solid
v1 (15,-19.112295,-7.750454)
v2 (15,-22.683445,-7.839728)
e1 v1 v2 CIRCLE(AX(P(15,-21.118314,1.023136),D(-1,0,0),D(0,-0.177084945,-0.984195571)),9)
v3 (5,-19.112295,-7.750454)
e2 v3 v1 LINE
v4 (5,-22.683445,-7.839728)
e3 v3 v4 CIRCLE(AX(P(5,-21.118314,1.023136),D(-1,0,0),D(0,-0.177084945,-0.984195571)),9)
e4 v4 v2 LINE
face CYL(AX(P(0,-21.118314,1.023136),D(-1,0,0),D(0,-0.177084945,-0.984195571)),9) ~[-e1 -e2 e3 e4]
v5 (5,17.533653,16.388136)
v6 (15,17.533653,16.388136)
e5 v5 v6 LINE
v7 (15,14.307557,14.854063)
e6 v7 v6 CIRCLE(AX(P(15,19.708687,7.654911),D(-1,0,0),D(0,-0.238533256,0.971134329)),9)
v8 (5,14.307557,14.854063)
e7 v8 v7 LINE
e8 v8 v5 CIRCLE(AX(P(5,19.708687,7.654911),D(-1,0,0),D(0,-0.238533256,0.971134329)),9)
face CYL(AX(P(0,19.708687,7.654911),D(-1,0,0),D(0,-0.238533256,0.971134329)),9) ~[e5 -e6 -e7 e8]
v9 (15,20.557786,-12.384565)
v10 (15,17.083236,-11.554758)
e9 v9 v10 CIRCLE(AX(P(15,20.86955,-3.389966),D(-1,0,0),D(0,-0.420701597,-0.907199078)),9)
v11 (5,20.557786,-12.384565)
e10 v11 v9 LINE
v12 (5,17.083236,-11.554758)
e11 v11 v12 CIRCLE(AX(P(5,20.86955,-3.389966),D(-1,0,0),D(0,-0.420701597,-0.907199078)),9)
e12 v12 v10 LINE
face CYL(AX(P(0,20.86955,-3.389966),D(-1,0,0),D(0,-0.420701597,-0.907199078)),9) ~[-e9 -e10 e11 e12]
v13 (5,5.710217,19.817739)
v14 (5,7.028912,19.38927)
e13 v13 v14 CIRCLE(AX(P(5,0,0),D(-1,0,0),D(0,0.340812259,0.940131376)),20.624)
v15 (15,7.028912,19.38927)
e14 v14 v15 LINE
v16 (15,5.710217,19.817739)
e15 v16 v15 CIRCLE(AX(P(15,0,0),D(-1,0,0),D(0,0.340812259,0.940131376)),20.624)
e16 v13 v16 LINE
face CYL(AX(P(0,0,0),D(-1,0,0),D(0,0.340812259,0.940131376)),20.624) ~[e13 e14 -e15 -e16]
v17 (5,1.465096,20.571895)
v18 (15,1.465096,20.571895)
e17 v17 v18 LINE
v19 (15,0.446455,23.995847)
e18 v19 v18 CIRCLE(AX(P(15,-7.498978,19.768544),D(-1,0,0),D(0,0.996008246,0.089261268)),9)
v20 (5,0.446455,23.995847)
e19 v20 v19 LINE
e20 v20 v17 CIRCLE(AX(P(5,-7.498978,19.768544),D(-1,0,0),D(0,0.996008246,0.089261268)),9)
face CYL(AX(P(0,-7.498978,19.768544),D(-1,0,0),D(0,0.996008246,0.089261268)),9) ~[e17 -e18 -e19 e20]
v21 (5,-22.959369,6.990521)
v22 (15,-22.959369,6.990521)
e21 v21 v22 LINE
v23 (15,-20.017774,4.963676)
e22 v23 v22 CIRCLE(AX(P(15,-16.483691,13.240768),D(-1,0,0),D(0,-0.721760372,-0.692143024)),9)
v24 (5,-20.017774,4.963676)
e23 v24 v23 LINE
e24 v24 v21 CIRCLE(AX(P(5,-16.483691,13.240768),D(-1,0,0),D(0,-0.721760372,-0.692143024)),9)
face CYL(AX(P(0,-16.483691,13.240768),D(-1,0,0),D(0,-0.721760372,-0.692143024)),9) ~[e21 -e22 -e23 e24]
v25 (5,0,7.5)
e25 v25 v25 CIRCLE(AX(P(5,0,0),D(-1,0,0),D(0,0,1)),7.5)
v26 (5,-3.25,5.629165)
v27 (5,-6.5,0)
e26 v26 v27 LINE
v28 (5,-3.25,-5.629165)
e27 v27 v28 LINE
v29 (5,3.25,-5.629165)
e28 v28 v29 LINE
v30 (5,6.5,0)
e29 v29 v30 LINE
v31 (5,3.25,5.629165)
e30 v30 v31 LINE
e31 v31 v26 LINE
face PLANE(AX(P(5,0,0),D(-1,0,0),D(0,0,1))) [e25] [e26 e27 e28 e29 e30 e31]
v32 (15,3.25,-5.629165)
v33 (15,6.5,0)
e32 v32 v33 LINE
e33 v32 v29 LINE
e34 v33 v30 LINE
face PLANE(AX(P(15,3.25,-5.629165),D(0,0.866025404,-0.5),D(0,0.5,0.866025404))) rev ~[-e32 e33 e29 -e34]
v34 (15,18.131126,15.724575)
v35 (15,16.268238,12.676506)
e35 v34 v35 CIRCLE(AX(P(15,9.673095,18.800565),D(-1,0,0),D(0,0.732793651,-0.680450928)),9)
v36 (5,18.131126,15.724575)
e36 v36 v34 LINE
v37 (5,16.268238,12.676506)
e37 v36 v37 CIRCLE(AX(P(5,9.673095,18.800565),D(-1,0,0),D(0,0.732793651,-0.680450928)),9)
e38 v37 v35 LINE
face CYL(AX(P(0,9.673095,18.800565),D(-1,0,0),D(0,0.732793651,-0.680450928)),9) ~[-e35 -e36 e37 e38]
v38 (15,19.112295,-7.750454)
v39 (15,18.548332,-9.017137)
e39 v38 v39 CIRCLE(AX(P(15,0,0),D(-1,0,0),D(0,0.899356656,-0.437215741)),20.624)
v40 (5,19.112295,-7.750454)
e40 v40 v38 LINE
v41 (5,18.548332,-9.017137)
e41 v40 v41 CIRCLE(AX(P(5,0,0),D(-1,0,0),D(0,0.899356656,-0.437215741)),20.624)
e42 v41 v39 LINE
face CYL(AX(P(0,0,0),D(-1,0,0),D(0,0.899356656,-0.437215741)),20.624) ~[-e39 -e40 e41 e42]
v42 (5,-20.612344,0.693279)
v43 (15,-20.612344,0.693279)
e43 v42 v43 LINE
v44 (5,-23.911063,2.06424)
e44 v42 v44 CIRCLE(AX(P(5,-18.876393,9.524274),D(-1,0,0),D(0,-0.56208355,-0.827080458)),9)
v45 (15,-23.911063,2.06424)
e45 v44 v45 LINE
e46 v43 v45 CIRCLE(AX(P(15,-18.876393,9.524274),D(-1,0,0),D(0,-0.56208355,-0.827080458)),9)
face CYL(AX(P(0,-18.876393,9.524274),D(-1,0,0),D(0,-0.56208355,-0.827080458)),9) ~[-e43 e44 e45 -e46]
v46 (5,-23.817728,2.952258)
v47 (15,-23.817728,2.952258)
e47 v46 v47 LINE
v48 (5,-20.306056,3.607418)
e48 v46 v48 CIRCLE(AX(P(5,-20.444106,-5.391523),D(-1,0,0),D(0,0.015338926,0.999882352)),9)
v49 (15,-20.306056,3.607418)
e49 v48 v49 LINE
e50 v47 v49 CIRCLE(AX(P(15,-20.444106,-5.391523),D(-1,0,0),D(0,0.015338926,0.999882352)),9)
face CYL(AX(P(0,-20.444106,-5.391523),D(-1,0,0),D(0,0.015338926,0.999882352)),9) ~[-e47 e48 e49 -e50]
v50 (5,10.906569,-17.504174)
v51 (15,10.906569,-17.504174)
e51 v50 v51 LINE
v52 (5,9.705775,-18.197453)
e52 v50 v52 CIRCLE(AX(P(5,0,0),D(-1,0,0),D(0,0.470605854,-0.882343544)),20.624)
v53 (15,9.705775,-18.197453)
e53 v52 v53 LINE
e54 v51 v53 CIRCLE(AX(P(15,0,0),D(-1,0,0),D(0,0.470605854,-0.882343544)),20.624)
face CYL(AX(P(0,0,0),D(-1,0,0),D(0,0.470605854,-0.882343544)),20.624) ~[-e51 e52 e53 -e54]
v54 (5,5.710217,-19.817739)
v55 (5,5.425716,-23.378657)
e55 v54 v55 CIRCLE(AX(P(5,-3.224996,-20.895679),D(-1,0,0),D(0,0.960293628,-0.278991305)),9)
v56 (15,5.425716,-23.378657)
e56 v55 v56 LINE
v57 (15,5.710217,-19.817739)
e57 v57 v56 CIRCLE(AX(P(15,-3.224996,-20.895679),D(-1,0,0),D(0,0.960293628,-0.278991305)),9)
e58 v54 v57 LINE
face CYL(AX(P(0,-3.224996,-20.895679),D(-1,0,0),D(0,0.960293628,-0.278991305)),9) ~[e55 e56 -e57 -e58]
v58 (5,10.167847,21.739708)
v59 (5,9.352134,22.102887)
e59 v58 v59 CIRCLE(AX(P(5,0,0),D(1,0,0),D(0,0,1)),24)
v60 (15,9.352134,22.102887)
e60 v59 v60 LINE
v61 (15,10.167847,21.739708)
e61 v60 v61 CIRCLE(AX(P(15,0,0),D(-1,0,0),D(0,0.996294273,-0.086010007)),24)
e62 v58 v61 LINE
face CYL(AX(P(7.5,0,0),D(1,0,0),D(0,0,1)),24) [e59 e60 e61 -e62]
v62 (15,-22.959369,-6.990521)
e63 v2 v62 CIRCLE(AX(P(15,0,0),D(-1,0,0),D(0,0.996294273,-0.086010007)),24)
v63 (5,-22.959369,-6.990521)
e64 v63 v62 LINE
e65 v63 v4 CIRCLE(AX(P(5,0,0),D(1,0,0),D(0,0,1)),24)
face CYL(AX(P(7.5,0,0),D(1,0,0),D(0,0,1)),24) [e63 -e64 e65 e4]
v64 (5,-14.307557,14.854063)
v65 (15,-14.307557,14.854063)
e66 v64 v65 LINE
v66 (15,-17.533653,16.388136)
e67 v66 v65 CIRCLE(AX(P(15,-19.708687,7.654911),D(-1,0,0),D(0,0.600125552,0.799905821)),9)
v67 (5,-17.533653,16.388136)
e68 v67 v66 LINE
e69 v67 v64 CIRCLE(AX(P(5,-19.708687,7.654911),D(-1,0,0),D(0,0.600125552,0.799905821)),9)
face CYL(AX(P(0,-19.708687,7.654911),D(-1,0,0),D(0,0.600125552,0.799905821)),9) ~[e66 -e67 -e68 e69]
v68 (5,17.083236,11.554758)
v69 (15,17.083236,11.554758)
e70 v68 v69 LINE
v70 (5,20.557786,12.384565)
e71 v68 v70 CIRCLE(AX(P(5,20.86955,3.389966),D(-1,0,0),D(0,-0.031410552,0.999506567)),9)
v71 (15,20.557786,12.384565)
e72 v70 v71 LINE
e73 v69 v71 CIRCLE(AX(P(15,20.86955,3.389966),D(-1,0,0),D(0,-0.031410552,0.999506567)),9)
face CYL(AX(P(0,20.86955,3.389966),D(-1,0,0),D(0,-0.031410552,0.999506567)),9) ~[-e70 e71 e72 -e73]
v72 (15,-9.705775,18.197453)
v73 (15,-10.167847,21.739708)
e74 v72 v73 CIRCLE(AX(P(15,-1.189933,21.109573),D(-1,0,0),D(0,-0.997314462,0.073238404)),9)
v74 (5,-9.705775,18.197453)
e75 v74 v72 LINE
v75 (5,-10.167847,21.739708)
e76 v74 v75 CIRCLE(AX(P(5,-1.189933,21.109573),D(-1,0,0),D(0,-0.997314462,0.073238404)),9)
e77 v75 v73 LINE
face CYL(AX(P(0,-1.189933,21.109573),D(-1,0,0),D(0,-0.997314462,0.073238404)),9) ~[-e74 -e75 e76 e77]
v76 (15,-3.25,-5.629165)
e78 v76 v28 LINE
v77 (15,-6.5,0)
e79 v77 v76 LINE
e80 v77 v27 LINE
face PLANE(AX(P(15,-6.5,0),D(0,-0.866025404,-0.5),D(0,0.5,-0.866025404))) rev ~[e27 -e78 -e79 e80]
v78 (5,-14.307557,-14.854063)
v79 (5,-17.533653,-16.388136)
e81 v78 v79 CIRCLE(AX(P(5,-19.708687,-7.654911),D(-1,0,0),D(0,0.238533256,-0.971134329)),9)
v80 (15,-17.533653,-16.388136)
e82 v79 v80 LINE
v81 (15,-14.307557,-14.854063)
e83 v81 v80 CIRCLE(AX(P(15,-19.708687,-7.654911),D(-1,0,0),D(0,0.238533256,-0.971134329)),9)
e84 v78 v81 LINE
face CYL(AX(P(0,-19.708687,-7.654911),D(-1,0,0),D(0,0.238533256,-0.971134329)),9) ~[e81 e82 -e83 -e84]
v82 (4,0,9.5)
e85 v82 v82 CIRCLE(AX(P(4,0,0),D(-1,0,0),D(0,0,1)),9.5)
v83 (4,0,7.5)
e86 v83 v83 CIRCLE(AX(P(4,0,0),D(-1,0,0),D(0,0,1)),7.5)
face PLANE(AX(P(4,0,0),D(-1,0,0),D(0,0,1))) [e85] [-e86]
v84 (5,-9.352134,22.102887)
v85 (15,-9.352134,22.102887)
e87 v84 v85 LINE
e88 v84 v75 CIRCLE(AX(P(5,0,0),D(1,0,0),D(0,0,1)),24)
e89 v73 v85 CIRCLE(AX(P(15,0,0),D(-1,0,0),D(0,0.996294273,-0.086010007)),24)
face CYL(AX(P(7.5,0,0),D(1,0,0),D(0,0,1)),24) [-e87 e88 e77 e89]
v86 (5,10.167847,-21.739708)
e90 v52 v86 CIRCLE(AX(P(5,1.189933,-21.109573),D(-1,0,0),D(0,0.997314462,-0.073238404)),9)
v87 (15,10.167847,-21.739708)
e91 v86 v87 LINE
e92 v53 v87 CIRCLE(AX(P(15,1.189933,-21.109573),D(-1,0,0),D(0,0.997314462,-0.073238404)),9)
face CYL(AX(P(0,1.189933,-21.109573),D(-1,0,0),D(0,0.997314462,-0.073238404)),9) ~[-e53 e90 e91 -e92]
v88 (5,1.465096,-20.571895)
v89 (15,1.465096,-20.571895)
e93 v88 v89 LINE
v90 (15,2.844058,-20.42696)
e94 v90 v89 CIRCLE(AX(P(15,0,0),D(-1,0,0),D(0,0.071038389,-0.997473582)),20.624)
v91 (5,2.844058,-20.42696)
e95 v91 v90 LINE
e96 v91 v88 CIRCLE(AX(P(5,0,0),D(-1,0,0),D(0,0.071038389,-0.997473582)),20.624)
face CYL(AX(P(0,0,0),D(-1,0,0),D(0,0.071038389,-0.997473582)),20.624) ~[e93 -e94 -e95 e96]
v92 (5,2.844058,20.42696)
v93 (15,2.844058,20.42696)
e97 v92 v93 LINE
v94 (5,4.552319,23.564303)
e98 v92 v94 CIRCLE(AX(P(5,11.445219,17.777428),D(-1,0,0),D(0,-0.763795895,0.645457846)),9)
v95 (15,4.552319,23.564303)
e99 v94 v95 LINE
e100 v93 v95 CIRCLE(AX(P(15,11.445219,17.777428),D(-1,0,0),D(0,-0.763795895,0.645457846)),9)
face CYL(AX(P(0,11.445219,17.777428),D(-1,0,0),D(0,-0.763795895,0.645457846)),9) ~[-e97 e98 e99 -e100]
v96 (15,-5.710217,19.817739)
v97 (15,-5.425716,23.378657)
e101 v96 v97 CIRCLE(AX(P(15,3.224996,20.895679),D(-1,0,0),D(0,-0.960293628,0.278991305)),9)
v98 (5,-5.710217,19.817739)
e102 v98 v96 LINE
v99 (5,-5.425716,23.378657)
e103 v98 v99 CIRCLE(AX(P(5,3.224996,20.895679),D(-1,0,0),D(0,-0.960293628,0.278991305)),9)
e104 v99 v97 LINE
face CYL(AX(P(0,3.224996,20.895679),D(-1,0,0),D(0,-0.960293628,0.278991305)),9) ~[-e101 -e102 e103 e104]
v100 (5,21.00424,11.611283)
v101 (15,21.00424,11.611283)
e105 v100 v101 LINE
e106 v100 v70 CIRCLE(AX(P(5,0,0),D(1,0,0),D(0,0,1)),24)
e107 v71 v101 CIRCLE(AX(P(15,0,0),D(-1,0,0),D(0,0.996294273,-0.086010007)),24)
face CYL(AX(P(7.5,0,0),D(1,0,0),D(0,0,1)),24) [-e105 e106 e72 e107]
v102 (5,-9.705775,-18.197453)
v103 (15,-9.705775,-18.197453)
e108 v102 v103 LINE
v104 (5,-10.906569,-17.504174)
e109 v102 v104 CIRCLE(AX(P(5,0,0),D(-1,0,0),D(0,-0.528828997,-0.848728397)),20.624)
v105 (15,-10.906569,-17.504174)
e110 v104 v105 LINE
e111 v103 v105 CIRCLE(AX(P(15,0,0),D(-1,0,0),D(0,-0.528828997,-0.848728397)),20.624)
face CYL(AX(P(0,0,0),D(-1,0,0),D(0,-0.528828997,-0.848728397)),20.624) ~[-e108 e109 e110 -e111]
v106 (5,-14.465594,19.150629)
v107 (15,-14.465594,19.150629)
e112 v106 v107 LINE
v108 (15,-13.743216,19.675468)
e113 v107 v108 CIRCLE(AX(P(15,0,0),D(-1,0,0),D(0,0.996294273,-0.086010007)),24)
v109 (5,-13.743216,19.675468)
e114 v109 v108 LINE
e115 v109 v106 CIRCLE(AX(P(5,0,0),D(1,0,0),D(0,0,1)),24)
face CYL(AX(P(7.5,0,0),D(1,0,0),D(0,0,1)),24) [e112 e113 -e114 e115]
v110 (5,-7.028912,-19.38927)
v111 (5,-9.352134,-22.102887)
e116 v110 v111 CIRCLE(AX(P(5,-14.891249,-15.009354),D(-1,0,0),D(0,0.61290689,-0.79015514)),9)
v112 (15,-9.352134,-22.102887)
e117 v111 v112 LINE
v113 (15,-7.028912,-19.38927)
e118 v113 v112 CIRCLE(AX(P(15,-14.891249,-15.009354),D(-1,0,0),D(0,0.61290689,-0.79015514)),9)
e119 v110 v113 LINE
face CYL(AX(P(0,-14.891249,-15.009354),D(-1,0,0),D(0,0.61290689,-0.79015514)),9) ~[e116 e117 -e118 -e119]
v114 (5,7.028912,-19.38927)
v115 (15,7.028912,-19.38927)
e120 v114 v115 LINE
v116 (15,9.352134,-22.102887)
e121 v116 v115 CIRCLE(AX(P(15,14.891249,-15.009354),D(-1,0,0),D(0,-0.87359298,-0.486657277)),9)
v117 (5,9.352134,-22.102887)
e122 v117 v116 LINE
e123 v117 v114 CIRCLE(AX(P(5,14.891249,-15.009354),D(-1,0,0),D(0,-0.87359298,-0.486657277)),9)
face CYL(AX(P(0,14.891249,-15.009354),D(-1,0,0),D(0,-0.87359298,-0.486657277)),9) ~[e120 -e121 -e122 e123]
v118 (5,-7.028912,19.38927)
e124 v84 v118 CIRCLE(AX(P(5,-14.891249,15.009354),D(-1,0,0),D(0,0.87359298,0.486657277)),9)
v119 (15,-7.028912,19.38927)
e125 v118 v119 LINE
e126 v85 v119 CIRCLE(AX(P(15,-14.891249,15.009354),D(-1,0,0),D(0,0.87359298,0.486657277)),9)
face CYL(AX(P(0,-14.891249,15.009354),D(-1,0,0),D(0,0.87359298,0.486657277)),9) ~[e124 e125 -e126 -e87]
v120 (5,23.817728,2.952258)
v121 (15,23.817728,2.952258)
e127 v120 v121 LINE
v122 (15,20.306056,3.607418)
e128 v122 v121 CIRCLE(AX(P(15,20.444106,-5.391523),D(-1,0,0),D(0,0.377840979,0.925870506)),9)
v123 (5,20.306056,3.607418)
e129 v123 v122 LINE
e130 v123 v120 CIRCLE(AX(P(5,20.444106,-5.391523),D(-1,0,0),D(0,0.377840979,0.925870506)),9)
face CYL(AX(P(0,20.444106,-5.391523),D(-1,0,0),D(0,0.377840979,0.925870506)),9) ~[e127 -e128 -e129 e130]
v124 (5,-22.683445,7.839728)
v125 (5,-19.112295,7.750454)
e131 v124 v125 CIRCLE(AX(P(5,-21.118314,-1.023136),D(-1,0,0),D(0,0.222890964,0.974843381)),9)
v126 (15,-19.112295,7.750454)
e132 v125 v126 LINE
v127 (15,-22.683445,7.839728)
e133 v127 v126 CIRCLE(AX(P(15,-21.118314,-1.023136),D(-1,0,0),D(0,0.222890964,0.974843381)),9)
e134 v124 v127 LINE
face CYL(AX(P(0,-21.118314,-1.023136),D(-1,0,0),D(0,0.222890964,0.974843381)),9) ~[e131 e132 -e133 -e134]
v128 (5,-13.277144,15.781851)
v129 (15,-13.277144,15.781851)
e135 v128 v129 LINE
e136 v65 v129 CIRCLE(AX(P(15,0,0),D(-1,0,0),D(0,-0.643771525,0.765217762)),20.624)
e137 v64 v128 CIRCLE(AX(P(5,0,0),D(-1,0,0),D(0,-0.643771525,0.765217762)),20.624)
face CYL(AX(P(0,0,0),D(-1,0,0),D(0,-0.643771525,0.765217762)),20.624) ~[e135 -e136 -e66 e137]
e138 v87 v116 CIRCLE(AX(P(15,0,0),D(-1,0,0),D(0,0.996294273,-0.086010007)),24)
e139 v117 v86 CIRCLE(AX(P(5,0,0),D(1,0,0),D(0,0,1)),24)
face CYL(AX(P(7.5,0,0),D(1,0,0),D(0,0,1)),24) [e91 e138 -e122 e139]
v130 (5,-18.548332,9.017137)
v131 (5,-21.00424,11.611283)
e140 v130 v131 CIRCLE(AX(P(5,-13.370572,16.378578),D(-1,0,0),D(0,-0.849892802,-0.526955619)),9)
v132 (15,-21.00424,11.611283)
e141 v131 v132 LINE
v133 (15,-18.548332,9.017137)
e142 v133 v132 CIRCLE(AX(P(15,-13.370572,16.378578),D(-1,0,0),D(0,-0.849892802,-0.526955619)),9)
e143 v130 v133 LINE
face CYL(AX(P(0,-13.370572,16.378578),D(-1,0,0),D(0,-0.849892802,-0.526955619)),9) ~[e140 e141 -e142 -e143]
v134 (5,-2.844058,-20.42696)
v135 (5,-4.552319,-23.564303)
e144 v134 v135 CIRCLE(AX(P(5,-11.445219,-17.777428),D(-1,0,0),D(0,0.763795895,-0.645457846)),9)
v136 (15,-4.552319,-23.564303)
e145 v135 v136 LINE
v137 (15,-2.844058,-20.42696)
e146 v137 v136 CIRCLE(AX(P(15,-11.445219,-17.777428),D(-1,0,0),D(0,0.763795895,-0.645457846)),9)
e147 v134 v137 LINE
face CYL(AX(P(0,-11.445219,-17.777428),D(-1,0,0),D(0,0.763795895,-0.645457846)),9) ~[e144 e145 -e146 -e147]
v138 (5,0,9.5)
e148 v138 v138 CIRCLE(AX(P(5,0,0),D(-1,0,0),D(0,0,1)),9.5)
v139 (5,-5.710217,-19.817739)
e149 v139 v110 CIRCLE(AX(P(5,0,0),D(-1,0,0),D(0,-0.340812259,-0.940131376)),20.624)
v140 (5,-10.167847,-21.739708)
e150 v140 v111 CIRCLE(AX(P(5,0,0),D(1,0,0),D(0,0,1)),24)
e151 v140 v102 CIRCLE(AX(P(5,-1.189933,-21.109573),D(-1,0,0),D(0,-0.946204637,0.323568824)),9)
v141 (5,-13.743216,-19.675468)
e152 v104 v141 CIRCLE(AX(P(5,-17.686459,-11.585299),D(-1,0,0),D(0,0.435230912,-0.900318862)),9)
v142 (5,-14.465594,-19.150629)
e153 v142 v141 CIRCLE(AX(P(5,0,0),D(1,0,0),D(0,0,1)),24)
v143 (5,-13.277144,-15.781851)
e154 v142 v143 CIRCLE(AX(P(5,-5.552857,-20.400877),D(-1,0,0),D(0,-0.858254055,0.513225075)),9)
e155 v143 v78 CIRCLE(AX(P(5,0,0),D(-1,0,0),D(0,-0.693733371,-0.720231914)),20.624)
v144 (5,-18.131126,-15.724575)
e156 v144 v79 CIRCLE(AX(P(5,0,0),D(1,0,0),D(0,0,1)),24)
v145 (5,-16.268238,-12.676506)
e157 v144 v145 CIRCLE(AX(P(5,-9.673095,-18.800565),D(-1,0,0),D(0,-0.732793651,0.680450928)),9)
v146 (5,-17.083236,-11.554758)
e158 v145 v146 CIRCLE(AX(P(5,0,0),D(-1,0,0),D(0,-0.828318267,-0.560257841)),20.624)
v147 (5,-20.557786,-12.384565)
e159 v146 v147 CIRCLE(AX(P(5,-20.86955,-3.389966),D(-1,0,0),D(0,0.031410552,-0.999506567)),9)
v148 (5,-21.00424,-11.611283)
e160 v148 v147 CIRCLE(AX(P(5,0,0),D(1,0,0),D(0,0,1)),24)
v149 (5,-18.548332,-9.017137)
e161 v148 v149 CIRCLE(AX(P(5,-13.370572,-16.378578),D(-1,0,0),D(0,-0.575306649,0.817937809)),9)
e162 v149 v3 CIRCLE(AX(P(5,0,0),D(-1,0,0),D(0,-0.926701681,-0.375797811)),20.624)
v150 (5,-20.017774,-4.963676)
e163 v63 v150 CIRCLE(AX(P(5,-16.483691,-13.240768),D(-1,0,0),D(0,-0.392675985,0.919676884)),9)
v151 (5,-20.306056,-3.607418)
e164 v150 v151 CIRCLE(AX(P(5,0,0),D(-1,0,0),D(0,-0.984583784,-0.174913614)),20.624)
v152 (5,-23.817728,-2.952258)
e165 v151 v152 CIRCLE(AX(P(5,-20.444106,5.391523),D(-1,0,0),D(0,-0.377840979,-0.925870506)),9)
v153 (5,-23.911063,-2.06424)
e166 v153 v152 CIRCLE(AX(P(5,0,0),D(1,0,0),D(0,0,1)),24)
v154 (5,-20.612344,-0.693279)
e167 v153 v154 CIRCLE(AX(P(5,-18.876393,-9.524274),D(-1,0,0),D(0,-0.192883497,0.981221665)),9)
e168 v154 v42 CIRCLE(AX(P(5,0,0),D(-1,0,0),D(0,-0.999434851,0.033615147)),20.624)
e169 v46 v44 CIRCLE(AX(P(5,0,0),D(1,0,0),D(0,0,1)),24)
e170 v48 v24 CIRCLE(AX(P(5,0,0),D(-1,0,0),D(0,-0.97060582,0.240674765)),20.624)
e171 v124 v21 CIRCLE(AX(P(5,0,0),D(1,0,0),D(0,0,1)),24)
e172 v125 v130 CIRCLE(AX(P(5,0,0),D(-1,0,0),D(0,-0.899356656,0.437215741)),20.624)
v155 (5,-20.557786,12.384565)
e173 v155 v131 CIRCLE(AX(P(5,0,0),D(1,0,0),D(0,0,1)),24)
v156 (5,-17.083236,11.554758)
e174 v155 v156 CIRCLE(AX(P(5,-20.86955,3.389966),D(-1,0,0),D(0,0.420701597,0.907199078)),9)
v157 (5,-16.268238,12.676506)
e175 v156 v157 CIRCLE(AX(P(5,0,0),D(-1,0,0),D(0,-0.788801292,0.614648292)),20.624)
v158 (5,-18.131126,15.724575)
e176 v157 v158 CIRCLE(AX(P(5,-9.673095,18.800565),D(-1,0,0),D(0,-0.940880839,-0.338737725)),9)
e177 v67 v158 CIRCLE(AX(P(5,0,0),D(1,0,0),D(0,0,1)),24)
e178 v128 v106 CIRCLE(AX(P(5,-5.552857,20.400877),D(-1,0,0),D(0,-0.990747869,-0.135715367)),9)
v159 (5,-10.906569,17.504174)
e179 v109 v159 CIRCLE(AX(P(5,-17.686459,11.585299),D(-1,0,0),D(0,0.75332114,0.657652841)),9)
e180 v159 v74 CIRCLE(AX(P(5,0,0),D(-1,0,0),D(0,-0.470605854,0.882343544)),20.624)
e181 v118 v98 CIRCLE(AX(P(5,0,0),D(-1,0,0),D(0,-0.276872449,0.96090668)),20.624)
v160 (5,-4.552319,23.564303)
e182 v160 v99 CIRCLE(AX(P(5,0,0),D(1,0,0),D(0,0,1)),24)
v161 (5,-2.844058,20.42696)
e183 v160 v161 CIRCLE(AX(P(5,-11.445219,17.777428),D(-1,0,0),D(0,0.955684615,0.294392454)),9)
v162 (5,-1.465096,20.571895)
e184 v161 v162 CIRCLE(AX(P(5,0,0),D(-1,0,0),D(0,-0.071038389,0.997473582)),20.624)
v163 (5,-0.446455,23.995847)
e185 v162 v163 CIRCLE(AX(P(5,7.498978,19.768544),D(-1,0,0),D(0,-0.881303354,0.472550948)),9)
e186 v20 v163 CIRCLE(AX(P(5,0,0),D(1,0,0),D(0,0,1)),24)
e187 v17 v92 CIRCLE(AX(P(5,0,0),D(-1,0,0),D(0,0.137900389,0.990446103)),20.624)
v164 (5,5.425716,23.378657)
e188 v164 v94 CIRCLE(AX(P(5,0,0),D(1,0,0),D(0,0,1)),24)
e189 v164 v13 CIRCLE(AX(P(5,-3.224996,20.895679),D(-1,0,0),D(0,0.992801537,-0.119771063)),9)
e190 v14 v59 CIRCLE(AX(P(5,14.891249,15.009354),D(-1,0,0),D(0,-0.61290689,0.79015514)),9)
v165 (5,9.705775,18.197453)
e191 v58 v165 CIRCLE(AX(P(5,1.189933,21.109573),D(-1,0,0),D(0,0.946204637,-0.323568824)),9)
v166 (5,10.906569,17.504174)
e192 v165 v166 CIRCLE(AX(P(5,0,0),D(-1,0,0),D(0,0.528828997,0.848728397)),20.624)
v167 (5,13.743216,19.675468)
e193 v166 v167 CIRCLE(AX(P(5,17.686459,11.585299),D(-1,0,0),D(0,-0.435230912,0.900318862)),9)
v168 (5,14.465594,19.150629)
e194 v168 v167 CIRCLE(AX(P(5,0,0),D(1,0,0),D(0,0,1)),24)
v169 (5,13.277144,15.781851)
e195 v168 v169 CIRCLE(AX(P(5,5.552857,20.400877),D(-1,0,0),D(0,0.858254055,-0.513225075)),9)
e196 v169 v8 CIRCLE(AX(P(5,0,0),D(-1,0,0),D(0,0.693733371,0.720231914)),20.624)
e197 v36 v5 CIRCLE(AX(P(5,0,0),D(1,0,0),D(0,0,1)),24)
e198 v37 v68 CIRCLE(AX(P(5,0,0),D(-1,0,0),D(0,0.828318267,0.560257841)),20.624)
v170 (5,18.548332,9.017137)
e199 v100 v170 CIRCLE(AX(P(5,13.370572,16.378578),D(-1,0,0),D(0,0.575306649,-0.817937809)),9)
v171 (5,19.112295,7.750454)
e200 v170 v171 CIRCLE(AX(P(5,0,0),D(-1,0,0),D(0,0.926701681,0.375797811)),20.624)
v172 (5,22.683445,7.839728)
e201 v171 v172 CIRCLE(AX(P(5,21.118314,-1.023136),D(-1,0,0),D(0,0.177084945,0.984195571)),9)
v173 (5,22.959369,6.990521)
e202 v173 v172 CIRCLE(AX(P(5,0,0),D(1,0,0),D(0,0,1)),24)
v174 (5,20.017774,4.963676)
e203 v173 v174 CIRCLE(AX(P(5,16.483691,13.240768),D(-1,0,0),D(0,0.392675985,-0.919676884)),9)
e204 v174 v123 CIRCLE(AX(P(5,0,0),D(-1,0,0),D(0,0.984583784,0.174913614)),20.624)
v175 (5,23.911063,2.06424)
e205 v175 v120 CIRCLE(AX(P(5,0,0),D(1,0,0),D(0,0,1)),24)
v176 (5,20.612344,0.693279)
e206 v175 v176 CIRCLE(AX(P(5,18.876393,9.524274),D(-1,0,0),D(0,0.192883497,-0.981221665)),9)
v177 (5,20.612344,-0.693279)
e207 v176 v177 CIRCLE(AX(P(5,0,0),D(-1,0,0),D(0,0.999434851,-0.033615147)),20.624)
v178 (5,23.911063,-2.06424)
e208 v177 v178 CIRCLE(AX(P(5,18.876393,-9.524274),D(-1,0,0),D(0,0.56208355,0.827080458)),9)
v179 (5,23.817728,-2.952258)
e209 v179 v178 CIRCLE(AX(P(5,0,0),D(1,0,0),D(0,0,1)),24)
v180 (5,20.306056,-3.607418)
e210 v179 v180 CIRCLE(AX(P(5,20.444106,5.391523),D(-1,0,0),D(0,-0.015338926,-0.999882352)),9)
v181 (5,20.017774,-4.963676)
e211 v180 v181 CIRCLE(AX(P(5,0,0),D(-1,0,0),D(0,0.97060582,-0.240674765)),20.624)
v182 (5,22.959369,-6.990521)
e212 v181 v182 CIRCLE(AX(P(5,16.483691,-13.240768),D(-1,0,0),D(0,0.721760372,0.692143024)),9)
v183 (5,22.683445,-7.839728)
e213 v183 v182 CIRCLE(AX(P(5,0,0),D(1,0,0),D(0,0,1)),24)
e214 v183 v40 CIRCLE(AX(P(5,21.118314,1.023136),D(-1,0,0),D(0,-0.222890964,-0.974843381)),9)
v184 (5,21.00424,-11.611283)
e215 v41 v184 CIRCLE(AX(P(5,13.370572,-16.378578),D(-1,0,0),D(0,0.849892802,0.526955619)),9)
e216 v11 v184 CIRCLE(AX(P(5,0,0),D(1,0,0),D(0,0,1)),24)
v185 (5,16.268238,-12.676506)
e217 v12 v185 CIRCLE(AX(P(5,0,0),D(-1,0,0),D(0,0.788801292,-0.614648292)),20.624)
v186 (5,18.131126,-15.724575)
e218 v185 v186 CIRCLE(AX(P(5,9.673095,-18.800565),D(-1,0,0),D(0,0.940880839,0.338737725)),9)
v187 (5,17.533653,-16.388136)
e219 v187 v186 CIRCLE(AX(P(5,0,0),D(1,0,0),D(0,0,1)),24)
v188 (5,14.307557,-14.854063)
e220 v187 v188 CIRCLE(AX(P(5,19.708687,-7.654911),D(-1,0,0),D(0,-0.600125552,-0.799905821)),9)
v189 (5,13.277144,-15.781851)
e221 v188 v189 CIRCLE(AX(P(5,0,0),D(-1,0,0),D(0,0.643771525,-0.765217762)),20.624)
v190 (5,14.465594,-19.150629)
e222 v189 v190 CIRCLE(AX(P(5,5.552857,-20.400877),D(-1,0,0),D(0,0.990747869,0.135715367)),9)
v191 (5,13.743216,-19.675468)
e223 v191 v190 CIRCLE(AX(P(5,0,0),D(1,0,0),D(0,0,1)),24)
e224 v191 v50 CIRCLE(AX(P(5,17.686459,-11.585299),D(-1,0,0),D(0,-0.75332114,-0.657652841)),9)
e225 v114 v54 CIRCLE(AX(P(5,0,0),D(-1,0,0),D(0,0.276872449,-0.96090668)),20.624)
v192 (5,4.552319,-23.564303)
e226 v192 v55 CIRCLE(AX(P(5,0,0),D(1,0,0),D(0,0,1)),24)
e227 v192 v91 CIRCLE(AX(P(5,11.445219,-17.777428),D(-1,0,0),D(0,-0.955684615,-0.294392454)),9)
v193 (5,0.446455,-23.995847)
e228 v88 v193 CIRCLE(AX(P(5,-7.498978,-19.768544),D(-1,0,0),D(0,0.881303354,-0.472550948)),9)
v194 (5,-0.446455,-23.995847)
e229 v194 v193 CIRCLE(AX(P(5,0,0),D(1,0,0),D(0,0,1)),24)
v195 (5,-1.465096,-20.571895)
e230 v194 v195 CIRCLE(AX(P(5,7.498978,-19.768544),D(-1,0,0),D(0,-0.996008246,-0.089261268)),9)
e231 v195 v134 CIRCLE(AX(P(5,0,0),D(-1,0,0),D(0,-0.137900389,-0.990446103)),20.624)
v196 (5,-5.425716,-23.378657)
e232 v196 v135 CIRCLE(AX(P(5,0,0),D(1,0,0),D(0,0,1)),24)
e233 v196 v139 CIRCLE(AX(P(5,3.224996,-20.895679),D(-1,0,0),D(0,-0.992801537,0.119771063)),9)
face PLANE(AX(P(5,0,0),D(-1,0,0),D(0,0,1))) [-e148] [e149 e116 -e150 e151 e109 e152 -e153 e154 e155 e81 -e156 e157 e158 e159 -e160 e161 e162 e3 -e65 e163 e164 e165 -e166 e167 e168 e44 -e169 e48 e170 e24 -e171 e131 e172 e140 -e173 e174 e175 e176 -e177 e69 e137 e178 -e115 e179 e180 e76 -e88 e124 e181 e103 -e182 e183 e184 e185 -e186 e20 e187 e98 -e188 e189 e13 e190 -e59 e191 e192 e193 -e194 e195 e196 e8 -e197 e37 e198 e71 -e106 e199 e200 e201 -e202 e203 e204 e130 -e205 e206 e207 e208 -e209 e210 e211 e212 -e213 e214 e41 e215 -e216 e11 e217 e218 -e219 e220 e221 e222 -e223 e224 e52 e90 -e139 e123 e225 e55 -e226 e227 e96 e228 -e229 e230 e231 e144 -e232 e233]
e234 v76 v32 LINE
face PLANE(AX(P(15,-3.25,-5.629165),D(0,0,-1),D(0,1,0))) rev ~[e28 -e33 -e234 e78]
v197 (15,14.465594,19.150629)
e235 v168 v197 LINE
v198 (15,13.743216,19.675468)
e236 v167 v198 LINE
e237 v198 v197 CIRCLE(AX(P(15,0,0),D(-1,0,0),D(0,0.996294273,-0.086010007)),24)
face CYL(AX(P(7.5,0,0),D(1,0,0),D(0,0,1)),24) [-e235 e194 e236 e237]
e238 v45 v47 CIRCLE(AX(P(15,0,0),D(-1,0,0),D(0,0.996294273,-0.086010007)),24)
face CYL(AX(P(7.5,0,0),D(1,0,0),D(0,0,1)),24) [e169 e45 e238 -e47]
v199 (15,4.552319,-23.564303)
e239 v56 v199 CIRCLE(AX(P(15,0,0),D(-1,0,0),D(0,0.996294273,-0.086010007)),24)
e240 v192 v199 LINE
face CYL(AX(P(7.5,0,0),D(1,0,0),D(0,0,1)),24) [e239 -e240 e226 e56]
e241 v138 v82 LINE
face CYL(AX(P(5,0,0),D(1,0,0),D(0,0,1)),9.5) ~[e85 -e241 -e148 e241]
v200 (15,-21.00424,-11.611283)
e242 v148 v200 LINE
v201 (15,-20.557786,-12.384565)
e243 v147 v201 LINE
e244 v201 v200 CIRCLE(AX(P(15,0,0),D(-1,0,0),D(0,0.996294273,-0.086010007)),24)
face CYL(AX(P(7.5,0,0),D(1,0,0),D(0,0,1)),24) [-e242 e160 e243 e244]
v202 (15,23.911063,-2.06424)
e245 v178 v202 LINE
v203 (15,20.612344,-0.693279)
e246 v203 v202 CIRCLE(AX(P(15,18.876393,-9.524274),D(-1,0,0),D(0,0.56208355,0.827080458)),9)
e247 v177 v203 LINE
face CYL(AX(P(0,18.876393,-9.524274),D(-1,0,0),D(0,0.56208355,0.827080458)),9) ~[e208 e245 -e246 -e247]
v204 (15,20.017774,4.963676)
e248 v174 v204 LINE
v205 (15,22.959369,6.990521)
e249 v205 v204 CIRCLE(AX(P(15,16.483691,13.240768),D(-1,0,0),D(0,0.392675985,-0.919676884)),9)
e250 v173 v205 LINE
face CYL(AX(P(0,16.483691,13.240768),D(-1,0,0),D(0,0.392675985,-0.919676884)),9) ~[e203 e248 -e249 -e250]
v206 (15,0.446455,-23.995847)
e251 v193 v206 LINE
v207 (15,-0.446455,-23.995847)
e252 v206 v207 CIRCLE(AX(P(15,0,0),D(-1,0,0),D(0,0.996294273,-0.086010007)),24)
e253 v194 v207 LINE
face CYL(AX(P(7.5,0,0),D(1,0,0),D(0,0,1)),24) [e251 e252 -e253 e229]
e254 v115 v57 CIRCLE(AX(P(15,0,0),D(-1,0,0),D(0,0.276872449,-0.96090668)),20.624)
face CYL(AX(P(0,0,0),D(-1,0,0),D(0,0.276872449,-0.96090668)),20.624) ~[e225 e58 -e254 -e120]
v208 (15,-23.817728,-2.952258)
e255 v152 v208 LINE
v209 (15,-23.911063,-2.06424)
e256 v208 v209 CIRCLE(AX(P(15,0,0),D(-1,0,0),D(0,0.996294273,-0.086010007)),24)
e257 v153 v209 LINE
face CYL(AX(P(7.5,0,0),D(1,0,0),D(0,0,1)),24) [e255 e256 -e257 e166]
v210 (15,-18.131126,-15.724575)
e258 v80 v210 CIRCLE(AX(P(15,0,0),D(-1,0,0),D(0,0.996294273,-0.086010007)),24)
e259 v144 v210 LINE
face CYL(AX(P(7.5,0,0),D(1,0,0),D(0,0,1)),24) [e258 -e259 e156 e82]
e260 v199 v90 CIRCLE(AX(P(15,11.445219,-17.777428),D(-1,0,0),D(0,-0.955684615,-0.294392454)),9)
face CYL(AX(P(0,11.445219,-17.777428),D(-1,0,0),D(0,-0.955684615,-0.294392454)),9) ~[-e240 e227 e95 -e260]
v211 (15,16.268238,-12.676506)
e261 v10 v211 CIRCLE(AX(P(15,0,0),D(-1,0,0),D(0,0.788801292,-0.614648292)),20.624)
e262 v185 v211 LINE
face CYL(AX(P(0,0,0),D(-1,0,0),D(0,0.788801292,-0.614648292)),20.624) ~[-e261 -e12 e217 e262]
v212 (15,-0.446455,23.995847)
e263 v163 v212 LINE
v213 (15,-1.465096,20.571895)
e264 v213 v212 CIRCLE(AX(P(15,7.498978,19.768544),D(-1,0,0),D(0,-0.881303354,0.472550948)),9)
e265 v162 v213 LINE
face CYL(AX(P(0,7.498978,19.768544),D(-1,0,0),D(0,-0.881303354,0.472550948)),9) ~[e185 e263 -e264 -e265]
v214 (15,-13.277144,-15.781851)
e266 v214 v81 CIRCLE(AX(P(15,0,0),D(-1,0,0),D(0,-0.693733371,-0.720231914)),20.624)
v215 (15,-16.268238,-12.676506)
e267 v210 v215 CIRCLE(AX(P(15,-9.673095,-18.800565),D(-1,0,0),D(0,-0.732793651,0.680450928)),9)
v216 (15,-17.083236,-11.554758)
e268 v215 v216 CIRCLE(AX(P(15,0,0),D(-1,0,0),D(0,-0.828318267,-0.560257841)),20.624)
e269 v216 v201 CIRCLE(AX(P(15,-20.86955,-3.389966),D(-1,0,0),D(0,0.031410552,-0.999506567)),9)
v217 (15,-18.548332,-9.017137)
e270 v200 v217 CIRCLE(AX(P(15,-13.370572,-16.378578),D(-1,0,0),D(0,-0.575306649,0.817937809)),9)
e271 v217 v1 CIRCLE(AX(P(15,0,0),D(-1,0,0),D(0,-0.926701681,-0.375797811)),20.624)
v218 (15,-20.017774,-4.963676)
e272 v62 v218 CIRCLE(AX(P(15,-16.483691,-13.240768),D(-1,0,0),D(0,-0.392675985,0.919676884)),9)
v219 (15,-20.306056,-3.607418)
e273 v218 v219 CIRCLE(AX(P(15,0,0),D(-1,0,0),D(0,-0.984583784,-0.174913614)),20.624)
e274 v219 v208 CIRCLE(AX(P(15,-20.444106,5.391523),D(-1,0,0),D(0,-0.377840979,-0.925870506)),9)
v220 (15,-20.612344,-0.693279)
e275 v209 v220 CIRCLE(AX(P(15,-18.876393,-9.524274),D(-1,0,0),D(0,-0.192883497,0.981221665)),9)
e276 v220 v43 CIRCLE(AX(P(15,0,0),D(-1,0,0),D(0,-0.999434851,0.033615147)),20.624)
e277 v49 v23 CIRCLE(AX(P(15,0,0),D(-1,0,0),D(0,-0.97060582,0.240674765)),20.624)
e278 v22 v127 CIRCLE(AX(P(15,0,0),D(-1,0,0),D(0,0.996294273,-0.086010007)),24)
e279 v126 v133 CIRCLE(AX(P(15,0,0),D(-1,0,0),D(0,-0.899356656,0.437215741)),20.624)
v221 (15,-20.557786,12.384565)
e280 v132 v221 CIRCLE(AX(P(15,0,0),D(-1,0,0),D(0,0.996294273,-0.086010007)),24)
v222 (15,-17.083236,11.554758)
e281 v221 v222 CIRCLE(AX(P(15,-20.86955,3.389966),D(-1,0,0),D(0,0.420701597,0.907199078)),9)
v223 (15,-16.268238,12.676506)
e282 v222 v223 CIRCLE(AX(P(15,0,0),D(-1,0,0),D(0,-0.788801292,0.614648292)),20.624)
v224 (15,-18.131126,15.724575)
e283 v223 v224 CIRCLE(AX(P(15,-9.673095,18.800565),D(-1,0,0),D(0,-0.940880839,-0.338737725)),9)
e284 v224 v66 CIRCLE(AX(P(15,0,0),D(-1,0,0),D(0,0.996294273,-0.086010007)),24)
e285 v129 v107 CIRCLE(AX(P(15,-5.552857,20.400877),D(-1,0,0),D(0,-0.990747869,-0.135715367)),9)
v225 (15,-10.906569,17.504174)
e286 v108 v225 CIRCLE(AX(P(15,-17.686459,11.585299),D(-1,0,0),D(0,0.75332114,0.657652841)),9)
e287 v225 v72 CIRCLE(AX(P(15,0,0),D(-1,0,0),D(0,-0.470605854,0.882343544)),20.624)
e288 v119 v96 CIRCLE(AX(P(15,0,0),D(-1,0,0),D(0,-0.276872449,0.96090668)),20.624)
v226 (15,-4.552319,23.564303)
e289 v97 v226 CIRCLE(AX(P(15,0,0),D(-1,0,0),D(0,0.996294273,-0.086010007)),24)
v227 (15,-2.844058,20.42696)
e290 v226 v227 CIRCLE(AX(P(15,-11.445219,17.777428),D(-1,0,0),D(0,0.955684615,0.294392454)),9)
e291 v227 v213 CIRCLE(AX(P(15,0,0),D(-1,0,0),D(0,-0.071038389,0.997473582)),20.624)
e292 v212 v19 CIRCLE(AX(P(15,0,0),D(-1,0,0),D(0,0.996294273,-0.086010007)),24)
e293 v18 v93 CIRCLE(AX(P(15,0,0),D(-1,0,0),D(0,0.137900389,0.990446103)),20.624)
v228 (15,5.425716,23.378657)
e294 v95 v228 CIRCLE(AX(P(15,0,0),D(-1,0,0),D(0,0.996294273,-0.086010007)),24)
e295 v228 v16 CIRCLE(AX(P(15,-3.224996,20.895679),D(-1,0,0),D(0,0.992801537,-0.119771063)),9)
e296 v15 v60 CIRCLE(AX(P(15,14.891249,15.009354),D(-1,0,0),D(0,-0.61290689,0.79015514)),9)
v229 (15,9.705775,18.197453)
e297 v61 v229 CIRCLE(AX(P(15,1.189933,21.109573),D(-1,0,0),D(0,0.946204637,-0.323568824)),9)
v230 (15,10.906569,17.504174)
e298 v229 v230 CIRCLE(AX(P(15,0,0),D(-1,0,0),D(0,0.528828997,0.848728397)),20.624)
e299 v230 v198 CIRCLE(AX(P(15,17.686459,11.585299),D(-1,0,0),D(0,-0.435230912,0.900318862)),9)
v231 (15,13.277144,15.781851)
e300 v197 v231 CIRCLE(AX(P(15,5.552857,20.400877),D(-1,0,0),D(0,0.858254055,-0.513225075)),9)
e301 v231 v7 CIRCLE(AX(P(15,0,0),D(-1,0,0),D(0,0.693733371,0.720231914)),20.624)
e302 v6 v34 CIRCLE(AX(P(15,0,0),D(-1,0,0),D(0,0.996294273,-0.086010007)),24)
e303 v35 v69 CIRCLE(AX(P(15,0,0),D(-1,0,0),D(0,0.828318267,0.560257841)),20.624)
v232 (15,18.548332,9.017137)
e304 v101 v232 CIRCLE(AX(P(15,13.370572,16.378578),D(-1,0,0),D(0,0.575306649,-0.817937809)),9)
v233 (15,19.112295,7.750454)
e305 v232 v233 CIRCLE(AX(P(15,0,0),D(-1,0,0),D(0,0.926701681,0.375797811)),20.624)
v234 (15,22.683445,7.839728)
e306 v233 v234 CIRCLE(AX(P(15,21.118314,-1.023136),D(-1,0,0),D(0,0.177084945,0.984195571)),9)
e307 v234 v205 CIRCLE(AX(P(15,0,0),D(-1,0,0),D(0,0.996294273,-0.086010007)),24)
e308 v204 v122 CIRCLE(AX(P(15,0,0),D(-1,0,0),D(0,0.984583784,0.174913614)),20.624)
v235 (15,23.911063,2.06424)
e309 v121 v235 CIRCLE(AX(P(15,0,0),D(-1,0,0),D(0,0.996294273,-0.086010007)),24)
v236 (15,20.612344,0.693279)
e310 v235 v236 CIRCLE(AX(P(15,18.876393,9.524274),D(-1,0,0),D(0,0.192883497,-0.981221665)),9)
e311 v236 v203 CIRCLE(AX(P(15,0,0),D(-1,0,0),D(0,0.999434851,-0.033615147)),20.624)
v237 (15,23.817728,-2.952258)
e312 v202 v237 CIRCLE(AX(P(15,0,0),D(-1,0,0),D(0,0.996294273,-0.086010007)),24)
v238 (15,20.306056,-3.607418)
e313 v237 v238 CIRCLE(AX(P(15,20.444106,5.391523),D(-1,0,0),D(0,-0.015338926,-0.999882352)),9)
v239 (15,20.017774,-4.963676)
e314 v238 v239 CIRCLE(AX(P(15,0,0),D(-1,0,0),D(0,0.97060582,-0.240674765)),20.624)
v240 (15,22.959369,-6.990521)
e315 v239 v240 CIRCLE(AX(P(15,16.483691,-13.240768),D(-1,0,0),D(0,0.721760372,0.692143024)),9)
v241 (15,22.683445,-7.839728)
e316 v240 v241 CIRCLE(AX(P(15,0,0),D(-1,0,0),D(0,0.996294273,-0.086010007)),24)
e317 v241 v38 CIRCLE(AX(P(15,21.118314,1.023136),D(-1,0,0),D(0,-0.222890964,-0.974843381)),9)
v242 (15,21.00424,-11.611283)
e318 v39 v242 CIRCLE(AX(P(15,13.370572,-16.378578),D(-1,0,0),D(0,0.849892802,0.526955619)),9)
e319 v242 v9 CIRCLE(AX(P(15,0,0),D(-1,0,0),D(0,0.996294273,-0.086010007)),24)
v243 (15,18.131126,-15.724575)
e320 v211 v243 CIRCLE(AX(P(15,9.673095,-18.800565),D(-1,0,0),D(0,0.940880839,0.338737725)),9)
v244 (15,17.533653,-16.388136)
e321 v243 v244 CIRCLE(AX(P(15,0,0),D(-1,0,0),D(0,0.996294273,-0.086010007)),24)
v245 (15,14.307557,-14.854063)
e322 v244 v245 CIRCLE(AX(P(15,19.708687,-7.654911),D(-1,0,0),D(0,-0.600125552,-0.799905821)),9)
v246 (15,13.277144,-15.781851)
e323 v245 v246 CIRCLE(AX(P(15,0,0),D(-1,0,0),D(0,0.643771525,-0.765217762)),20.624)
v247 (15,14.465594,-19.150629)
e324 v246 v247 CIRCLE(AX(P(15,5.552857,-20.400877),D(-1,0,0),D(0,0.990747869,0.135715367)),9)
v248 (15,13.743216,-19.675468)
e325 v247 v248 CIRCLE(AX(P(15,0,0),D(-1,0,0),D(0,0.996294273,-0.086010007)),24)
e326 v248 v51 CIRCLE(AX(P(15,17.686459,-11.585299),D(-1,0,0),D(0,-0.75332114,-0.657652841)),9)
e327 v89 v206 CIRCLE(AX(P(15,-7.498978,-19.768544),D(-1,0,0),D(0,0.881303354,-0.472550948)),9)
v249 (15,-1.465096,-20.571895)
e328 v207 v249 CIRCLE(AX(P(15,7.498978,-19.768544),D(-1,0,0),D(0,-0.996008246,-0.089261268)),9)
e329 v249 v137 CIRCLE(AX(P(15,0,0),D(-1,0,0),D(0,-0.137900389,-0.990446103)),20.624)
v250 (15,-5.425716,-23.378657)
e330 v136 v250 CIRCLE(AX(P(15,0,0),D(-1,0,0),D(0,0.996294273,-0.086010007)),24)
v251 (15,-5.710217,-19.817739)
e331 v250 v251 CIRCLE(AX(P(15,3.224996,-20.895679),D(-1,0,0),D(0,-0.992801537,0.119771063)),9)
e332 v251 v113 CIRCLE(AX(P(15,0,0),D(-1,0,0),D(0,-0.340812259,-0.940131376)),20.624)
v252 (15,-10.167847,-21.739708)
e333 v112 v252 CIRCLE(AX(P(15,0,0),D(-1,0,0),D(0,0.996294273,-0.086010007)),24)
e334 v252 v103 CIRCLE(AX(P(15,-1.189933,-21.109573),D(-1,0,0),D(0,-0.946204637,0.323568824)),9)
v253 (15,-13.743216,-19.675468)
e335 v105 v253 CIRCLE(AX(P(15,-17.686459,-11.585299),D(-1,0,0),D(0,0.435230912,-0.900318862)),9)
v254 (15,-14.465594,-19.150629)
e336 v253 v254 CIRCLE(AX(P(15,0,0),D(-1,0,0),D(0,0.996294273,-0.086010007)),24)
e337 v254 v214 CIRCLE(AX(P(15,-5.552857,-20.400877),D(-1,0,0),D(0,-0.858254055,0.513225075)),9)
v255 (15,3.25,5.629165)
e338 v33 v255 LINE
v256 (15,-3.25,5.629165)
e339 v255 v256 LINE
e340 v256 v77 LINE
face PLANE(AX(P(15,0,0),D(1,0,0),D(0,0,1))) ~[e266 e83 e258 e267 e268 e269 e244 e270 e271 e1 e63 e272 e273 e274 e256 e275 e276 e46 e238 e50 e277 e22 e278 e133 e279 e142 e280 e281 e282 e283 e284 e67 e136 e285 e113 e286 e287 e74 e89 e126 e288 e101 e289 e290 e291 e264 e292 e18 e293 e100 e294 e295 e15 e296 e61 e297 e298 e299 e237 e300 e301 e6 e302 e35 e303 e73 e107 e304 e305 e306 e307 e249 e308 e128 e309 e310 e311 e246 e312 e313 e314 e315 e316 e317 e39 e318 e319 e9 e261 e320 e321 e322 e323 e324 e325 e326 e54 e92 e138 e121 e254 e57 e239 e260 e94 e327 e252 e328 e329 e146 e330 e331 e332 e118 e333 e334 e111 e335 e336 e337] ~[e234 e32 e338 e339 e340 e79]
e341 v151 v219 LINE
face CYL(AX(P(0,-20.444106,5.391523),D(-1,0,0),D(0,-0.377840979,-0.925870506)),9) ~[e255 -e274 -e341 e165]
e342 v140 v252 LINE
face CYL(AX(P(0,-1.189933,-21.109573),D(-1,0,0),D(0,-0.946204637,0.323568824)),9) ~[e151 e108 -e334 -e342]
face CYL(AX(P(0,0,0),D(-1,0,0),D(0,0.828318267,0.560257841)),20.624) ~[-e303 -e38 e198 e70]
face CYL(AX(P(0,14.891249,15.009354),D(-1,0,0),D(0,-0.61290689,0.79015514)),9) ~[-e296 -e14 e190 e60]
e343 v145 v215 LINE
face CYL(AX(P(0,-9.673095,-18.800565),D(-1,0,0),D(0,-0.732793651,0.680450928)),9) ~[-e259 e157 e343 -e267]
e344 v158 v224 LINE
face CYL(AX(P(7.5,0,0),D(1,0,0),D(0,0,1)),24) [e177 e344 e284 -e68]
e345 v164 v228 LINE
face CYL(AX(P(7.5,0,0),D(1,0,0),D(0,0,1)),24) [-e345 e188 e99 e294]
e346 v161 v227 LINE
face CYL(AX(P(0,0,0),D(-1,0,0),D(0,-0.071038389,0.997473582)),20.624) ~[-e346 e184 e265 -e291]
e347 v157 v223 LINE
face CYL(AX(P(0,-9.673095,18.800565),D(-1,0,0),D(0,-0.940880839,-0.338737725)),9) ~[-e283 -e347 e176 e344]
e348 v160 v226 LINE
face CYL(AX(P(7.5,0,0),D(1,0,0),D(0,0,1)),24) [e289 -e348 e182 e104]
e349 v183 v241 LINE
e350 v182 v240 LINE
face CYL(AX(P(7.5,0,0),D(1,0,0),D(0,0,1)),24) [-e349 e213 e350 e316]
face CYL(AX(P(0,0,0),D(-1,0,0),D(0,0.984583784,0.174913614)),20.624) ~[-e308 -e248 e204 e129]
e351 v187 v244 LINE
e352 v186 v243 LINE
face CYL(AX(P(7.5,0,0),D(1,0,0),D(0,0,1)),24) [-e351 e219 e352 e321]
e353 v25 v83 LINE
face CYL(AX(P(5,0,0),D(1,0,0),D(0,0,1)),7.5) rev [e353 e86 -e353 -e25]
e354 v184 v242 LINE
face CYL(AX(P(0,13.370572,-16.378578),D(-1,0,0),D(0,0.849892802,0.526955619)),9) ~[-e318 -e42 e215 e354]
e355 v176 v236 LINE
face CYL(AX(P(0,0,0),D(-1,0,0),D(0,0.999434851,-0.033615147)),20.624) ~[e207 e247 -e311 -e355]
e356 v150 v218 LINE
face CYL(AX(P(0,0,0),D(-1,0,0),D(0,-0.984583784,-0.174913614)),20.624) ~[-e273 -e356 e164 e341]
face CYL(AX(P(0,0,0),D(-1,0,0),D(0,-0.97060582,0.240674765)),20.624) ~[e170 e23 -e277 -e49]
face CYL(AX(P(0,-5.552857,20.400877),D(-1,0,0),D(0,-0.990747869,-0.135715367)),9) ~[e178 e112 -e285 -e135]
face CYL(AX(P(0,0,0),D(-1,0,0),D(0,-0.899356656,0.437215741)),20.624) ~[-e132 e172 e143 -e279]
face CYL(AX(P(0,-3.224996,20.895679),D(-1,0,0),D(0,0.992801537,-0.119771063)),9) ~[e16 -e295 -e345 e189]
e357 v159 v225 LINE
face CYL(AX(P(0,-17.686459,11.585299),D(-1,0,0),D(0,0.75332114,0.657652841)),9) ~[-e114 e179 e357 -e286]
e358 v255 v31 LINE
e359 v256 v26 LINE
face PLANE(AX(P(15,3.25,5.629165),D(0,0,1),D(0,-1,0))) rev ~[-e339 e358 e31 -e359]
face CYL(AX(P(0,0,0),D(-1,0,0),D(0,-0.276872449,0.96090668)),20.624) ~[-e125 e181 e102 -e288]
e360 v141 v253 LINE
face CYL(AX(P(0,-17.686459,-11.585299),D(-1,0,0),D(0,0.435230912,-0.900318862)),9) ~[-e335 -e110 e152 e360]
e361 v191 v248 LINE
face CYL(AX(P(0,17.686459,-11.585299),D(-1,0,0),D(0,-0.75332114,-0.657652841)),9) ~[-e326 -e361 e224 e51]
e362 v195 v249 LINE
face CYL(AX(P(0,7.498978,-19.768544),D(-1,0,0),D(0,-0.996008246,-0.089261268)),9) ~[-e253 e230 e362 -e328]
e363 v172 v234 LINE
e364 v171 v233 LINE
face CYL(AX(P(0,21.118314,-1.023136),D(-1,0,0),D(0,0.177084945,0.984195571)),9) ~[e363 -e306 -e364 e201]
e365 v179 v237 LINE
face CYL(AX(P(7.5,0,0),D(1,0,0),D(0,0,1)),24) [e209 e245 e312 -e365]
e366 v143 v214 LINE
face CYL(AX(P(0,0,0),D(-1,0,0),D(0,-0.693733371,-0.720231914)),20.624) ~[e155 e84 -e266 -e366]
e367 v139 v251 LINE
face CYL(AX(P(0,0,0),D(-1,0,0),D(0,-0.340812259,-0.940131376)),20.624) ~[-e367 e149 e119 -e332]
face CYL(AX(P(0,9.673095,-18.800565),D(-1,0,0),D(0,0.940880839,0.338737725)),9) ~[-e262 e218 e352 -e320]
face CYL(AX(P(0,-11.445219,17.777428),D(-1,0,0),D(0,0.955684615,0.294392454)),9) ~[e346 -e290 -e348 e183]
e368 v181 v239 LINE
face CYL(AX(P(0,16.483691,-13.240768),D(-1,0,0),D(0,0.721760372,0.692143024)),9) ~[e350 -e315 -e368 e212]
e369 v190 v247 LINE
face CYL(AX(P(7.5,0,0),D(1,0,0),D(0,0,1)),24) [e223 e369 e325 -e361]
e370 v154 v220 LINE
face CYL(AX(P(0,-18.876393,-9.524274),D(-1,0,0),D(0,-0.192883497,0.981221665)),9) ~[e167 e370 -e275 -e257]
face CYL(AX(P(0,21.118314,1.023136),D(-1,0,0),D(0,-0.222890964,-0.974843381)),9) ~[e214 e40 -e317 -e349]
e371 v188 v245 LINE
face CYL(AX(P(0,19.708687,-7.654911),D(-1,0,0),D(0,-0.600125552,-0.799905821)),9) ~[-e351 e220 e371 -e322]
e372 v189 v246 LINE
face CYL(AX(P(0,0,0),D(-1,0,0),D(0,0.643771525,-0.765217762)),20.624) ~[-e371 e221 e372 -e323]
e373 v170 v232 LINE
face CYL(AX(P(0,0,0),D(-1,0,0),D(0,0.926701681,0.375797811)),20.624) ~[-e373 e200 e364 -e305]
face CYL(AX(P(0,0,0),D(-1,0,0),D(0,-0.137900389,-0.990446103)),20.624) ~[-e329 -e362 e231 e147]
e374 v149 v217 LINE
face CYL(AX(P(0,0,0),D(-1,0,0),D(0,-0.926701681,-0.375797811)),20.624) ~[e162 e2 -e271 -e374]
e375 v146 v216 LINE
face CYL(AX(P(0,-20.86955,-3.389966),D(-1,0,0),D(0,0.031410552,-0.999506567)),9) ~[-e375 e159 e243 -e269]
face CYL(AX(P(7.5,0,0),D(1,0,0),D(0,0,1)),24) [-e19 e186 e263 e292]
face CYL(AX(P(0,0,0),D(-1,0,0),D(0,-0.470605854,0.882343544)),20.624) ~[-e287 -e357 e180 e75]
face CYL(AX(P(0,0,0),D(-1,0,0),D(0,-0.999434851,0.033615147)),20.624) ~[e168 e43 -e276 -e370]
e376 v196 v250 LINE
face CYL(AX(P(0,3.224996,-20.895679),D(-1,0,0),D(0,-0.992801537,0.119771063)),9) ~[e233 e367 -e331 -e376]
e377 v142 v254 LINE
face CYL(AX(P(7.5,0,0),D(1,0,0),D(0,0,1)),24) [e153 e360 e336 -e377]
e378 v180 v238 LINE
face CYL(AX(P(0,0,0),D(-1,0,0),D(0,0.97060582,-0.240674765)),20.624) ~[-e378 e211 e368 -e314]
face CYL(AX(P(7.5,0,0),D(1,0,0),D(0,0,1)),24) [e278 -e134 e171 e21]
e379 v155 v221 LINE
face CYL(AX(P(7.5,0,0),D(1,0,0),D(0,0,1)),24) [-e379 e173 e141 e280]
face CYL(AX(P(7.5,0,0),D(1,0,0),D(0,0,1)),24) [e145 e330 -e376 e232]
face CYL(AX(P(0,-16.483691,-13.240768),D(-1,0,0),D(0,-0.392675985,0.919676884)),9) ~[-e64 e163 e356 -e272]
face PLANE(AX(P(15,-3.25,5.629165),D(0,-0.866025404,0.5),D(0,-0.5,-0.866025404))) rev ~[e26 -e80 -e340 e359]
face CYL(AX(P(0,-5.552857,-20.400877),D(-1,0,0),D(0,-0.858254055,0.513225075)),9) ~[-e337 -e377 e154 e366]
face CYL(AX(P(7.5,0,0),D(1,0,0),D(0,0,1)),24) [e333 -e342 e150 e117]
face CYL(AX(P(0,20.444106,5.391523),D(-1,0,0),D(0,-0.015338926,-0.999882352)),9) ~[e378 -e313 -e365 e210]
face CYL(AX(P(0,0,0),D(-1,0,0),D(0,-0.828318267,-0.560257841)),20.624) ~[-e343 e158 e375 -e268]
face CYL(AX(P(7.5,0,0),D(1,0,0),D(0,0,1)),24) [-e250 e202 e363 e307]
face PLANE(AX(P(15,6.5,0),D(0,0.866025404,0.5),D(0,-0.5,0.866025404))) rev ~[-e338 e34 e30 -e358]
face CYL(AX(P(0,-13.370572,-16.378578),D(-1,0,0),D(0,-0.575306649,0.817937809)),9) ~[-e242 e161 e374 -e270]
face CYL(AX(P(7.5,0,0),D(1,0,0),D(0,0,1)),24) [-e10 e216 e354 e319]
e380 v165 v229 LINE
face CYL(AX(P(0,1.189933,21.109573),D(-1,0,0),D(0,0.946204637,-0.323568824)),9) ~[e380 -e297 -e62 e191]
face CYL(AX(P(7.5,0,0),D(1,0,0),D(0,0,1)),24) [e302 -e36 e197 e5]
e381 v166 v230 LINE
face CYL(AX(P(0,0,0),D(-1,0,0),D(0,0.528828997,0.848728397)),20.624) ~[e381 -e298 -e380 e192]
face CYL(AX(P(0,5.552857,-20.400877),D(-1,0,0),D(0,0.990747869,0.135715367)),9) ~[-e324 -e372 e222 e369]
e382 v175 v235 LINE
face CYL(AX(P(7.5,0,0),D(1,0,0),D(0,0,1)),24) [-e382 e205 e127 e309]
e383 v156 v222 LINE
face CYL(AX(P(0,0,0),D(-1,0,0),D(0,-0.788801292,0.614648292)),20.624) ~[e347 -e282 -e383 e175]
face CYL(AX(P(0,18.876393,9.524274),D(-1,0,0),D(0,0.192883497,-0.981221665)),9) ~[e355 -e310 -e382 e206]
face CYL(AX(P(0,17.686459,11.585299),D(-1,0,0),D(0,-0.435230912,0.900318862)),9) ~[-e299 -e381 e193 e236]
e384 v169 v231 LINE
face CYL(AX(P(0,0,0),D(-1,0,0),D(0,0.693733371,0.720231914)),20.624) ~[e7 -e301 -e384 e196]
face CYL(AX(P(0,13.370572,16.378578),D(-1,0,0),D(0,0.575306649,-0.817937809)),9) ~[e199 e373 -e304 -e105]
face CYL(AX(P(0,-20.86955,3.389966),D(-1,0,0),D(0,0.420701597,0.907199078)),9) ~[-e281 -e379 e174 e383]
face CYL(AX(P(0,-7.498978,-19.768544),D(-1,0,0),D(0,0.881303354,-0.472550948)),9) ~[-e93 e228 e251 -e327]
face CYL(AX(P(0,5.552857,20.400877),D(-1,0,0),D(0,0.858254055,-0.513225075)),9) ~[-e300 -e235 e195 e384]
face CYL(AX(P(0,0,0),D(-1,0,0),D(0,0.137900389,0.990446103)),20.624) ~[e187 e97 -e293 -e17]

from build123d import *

# Parameters (mm, degrees)
BASPROSKE_W              = 15
BASPROSKE_H              = 24
TOOTHCUT_DEPTH           = 38.107950631
TEETHCUTS_COUNT          = 30
TEETHCUTS_ANGLE          = 348
BORSKE_R                 = 5
BORE_DEPTH               = 50.0000508
CORTE_EXTRUS_O1_DEPTH    = 38.050491393
ESBO_O2_R                = 30.603366169
CORTE_EXTRUS_O2_DEPTH    = 5
ESBO_O4_R                = 9.5
ESBO_O4_R_2              = 7.5
RESSALTO_EXTRUS_O1_DEPTH = 1


with BuildPart() as part:
    # BasProSke → Base-Revolve (revolve)
    with BuildSketch(Plane(origin=(0, 0, 0), x_dir=(1, 0, 0), z_dir=(0, 1, 0)), mode=Mode.PRIVATE) as base_revolve_sk:
        with Locations((7.5, 12)):
            Rectangle(BASPROSKE_W, BASPROSKE_H)
    revolve(base_revolve_sk.sketch.rotate(Axis((-10, 0, 0), (1, 0, 0)), 180), axis=Axis((-10, 0, 0), (1, 0, 0)))

    # TooCutSke → ToothCut (cut, through all)
    with BuildSketch(Plane(origin=(0, 0, 0), x_dir=(0, 0, -1), z_dir=(1, 0, 0))):
        with BuildLine():
            ThreePointArc((0.693278797, 20.612344372), (0, 20.624), (-0.693278797, 20.612344372))
            ThreePointArc((-0.693278797, 20.612344372), (-1.219042225, 22.34383125), (-2.080549663, 23.935144835))
            ThreePointArc((-2.080549663, 23.935144835), (0, 24.0254), (2.080549663, 23.935144835))
            ThreePointArc((2.080549663, 23.935144835), (1.219042225, 22.34383125), (0.693278797, 20.612344372))
        make_face()
    toothcut = extrude(amount=TOOTHCUT_DEPTH, mode=Mode.SUBTRACT)

    # TeethCuts: ToothCut ×30 about axis
    teethcuts_axis = Axis((-10, 0, 0), (1, 0, 0))
    for i in range(1, TEETHCUTS_COUNT):
        add(toothcut.rotate(teethcuts_axis, i * TEETHCUTS_ANGLE / (TEETHCUTS_COUNT - 1)), mode=Mode.SUBTRACT)

    # BorSke → Bore (cut, symmetric)
    with BuildSketch(Plane(origin=(0, 0, 0), x_dir=(0, 0, -1), z_dir=(1, 0, 0))):
        with Locations(Location((0, 0, 0), (0, 0, 180))):
            Circle(BORSKE_R)
    extrude(amount=BORE_DEPTH, both=True, mode=Mode.SUBTRACT)

    # Esboço1 → Corte-extrusão1 (cut, through all)
    with BuildSketch(Plane(origin=(15, 0, 0), x_dir=(0, 0, -1), z_dir=(1, 0, 0))):
        Polygon((0, 6.5), (-5.629165125, 3.25), (-5.629165125, -3.25), (0, -6.5), (5.629165125, -3.25), (5.629165125, 3.25), align=None)
    extrude(amount=-CORTE_EXTRUS_O1_DEPTH, mode=Mode.SUBTRACT)

    # Esboço2 → Corte-extrusão2 (cut)
    with BuildSketch(Plane.ZY):
        Circle(ESBO_O2_R)
    extrude(amount=-CORTE_EXTRUS_O2_DEPTH, mode=Mode.SUBTRACT)

    # Esboço4 → Ressalto-extrusão1 (add)
    with BuildSketch(Plane.ZY.offset(-5)):
        Circle(ESBO_O4_R)
        Circle(ESBO_O4_R_2, mode=Mode.SUBTRACT)
    extrude(amount=RESSALTO_EXTRUS_O1_DEPTH)


solid = part.part
